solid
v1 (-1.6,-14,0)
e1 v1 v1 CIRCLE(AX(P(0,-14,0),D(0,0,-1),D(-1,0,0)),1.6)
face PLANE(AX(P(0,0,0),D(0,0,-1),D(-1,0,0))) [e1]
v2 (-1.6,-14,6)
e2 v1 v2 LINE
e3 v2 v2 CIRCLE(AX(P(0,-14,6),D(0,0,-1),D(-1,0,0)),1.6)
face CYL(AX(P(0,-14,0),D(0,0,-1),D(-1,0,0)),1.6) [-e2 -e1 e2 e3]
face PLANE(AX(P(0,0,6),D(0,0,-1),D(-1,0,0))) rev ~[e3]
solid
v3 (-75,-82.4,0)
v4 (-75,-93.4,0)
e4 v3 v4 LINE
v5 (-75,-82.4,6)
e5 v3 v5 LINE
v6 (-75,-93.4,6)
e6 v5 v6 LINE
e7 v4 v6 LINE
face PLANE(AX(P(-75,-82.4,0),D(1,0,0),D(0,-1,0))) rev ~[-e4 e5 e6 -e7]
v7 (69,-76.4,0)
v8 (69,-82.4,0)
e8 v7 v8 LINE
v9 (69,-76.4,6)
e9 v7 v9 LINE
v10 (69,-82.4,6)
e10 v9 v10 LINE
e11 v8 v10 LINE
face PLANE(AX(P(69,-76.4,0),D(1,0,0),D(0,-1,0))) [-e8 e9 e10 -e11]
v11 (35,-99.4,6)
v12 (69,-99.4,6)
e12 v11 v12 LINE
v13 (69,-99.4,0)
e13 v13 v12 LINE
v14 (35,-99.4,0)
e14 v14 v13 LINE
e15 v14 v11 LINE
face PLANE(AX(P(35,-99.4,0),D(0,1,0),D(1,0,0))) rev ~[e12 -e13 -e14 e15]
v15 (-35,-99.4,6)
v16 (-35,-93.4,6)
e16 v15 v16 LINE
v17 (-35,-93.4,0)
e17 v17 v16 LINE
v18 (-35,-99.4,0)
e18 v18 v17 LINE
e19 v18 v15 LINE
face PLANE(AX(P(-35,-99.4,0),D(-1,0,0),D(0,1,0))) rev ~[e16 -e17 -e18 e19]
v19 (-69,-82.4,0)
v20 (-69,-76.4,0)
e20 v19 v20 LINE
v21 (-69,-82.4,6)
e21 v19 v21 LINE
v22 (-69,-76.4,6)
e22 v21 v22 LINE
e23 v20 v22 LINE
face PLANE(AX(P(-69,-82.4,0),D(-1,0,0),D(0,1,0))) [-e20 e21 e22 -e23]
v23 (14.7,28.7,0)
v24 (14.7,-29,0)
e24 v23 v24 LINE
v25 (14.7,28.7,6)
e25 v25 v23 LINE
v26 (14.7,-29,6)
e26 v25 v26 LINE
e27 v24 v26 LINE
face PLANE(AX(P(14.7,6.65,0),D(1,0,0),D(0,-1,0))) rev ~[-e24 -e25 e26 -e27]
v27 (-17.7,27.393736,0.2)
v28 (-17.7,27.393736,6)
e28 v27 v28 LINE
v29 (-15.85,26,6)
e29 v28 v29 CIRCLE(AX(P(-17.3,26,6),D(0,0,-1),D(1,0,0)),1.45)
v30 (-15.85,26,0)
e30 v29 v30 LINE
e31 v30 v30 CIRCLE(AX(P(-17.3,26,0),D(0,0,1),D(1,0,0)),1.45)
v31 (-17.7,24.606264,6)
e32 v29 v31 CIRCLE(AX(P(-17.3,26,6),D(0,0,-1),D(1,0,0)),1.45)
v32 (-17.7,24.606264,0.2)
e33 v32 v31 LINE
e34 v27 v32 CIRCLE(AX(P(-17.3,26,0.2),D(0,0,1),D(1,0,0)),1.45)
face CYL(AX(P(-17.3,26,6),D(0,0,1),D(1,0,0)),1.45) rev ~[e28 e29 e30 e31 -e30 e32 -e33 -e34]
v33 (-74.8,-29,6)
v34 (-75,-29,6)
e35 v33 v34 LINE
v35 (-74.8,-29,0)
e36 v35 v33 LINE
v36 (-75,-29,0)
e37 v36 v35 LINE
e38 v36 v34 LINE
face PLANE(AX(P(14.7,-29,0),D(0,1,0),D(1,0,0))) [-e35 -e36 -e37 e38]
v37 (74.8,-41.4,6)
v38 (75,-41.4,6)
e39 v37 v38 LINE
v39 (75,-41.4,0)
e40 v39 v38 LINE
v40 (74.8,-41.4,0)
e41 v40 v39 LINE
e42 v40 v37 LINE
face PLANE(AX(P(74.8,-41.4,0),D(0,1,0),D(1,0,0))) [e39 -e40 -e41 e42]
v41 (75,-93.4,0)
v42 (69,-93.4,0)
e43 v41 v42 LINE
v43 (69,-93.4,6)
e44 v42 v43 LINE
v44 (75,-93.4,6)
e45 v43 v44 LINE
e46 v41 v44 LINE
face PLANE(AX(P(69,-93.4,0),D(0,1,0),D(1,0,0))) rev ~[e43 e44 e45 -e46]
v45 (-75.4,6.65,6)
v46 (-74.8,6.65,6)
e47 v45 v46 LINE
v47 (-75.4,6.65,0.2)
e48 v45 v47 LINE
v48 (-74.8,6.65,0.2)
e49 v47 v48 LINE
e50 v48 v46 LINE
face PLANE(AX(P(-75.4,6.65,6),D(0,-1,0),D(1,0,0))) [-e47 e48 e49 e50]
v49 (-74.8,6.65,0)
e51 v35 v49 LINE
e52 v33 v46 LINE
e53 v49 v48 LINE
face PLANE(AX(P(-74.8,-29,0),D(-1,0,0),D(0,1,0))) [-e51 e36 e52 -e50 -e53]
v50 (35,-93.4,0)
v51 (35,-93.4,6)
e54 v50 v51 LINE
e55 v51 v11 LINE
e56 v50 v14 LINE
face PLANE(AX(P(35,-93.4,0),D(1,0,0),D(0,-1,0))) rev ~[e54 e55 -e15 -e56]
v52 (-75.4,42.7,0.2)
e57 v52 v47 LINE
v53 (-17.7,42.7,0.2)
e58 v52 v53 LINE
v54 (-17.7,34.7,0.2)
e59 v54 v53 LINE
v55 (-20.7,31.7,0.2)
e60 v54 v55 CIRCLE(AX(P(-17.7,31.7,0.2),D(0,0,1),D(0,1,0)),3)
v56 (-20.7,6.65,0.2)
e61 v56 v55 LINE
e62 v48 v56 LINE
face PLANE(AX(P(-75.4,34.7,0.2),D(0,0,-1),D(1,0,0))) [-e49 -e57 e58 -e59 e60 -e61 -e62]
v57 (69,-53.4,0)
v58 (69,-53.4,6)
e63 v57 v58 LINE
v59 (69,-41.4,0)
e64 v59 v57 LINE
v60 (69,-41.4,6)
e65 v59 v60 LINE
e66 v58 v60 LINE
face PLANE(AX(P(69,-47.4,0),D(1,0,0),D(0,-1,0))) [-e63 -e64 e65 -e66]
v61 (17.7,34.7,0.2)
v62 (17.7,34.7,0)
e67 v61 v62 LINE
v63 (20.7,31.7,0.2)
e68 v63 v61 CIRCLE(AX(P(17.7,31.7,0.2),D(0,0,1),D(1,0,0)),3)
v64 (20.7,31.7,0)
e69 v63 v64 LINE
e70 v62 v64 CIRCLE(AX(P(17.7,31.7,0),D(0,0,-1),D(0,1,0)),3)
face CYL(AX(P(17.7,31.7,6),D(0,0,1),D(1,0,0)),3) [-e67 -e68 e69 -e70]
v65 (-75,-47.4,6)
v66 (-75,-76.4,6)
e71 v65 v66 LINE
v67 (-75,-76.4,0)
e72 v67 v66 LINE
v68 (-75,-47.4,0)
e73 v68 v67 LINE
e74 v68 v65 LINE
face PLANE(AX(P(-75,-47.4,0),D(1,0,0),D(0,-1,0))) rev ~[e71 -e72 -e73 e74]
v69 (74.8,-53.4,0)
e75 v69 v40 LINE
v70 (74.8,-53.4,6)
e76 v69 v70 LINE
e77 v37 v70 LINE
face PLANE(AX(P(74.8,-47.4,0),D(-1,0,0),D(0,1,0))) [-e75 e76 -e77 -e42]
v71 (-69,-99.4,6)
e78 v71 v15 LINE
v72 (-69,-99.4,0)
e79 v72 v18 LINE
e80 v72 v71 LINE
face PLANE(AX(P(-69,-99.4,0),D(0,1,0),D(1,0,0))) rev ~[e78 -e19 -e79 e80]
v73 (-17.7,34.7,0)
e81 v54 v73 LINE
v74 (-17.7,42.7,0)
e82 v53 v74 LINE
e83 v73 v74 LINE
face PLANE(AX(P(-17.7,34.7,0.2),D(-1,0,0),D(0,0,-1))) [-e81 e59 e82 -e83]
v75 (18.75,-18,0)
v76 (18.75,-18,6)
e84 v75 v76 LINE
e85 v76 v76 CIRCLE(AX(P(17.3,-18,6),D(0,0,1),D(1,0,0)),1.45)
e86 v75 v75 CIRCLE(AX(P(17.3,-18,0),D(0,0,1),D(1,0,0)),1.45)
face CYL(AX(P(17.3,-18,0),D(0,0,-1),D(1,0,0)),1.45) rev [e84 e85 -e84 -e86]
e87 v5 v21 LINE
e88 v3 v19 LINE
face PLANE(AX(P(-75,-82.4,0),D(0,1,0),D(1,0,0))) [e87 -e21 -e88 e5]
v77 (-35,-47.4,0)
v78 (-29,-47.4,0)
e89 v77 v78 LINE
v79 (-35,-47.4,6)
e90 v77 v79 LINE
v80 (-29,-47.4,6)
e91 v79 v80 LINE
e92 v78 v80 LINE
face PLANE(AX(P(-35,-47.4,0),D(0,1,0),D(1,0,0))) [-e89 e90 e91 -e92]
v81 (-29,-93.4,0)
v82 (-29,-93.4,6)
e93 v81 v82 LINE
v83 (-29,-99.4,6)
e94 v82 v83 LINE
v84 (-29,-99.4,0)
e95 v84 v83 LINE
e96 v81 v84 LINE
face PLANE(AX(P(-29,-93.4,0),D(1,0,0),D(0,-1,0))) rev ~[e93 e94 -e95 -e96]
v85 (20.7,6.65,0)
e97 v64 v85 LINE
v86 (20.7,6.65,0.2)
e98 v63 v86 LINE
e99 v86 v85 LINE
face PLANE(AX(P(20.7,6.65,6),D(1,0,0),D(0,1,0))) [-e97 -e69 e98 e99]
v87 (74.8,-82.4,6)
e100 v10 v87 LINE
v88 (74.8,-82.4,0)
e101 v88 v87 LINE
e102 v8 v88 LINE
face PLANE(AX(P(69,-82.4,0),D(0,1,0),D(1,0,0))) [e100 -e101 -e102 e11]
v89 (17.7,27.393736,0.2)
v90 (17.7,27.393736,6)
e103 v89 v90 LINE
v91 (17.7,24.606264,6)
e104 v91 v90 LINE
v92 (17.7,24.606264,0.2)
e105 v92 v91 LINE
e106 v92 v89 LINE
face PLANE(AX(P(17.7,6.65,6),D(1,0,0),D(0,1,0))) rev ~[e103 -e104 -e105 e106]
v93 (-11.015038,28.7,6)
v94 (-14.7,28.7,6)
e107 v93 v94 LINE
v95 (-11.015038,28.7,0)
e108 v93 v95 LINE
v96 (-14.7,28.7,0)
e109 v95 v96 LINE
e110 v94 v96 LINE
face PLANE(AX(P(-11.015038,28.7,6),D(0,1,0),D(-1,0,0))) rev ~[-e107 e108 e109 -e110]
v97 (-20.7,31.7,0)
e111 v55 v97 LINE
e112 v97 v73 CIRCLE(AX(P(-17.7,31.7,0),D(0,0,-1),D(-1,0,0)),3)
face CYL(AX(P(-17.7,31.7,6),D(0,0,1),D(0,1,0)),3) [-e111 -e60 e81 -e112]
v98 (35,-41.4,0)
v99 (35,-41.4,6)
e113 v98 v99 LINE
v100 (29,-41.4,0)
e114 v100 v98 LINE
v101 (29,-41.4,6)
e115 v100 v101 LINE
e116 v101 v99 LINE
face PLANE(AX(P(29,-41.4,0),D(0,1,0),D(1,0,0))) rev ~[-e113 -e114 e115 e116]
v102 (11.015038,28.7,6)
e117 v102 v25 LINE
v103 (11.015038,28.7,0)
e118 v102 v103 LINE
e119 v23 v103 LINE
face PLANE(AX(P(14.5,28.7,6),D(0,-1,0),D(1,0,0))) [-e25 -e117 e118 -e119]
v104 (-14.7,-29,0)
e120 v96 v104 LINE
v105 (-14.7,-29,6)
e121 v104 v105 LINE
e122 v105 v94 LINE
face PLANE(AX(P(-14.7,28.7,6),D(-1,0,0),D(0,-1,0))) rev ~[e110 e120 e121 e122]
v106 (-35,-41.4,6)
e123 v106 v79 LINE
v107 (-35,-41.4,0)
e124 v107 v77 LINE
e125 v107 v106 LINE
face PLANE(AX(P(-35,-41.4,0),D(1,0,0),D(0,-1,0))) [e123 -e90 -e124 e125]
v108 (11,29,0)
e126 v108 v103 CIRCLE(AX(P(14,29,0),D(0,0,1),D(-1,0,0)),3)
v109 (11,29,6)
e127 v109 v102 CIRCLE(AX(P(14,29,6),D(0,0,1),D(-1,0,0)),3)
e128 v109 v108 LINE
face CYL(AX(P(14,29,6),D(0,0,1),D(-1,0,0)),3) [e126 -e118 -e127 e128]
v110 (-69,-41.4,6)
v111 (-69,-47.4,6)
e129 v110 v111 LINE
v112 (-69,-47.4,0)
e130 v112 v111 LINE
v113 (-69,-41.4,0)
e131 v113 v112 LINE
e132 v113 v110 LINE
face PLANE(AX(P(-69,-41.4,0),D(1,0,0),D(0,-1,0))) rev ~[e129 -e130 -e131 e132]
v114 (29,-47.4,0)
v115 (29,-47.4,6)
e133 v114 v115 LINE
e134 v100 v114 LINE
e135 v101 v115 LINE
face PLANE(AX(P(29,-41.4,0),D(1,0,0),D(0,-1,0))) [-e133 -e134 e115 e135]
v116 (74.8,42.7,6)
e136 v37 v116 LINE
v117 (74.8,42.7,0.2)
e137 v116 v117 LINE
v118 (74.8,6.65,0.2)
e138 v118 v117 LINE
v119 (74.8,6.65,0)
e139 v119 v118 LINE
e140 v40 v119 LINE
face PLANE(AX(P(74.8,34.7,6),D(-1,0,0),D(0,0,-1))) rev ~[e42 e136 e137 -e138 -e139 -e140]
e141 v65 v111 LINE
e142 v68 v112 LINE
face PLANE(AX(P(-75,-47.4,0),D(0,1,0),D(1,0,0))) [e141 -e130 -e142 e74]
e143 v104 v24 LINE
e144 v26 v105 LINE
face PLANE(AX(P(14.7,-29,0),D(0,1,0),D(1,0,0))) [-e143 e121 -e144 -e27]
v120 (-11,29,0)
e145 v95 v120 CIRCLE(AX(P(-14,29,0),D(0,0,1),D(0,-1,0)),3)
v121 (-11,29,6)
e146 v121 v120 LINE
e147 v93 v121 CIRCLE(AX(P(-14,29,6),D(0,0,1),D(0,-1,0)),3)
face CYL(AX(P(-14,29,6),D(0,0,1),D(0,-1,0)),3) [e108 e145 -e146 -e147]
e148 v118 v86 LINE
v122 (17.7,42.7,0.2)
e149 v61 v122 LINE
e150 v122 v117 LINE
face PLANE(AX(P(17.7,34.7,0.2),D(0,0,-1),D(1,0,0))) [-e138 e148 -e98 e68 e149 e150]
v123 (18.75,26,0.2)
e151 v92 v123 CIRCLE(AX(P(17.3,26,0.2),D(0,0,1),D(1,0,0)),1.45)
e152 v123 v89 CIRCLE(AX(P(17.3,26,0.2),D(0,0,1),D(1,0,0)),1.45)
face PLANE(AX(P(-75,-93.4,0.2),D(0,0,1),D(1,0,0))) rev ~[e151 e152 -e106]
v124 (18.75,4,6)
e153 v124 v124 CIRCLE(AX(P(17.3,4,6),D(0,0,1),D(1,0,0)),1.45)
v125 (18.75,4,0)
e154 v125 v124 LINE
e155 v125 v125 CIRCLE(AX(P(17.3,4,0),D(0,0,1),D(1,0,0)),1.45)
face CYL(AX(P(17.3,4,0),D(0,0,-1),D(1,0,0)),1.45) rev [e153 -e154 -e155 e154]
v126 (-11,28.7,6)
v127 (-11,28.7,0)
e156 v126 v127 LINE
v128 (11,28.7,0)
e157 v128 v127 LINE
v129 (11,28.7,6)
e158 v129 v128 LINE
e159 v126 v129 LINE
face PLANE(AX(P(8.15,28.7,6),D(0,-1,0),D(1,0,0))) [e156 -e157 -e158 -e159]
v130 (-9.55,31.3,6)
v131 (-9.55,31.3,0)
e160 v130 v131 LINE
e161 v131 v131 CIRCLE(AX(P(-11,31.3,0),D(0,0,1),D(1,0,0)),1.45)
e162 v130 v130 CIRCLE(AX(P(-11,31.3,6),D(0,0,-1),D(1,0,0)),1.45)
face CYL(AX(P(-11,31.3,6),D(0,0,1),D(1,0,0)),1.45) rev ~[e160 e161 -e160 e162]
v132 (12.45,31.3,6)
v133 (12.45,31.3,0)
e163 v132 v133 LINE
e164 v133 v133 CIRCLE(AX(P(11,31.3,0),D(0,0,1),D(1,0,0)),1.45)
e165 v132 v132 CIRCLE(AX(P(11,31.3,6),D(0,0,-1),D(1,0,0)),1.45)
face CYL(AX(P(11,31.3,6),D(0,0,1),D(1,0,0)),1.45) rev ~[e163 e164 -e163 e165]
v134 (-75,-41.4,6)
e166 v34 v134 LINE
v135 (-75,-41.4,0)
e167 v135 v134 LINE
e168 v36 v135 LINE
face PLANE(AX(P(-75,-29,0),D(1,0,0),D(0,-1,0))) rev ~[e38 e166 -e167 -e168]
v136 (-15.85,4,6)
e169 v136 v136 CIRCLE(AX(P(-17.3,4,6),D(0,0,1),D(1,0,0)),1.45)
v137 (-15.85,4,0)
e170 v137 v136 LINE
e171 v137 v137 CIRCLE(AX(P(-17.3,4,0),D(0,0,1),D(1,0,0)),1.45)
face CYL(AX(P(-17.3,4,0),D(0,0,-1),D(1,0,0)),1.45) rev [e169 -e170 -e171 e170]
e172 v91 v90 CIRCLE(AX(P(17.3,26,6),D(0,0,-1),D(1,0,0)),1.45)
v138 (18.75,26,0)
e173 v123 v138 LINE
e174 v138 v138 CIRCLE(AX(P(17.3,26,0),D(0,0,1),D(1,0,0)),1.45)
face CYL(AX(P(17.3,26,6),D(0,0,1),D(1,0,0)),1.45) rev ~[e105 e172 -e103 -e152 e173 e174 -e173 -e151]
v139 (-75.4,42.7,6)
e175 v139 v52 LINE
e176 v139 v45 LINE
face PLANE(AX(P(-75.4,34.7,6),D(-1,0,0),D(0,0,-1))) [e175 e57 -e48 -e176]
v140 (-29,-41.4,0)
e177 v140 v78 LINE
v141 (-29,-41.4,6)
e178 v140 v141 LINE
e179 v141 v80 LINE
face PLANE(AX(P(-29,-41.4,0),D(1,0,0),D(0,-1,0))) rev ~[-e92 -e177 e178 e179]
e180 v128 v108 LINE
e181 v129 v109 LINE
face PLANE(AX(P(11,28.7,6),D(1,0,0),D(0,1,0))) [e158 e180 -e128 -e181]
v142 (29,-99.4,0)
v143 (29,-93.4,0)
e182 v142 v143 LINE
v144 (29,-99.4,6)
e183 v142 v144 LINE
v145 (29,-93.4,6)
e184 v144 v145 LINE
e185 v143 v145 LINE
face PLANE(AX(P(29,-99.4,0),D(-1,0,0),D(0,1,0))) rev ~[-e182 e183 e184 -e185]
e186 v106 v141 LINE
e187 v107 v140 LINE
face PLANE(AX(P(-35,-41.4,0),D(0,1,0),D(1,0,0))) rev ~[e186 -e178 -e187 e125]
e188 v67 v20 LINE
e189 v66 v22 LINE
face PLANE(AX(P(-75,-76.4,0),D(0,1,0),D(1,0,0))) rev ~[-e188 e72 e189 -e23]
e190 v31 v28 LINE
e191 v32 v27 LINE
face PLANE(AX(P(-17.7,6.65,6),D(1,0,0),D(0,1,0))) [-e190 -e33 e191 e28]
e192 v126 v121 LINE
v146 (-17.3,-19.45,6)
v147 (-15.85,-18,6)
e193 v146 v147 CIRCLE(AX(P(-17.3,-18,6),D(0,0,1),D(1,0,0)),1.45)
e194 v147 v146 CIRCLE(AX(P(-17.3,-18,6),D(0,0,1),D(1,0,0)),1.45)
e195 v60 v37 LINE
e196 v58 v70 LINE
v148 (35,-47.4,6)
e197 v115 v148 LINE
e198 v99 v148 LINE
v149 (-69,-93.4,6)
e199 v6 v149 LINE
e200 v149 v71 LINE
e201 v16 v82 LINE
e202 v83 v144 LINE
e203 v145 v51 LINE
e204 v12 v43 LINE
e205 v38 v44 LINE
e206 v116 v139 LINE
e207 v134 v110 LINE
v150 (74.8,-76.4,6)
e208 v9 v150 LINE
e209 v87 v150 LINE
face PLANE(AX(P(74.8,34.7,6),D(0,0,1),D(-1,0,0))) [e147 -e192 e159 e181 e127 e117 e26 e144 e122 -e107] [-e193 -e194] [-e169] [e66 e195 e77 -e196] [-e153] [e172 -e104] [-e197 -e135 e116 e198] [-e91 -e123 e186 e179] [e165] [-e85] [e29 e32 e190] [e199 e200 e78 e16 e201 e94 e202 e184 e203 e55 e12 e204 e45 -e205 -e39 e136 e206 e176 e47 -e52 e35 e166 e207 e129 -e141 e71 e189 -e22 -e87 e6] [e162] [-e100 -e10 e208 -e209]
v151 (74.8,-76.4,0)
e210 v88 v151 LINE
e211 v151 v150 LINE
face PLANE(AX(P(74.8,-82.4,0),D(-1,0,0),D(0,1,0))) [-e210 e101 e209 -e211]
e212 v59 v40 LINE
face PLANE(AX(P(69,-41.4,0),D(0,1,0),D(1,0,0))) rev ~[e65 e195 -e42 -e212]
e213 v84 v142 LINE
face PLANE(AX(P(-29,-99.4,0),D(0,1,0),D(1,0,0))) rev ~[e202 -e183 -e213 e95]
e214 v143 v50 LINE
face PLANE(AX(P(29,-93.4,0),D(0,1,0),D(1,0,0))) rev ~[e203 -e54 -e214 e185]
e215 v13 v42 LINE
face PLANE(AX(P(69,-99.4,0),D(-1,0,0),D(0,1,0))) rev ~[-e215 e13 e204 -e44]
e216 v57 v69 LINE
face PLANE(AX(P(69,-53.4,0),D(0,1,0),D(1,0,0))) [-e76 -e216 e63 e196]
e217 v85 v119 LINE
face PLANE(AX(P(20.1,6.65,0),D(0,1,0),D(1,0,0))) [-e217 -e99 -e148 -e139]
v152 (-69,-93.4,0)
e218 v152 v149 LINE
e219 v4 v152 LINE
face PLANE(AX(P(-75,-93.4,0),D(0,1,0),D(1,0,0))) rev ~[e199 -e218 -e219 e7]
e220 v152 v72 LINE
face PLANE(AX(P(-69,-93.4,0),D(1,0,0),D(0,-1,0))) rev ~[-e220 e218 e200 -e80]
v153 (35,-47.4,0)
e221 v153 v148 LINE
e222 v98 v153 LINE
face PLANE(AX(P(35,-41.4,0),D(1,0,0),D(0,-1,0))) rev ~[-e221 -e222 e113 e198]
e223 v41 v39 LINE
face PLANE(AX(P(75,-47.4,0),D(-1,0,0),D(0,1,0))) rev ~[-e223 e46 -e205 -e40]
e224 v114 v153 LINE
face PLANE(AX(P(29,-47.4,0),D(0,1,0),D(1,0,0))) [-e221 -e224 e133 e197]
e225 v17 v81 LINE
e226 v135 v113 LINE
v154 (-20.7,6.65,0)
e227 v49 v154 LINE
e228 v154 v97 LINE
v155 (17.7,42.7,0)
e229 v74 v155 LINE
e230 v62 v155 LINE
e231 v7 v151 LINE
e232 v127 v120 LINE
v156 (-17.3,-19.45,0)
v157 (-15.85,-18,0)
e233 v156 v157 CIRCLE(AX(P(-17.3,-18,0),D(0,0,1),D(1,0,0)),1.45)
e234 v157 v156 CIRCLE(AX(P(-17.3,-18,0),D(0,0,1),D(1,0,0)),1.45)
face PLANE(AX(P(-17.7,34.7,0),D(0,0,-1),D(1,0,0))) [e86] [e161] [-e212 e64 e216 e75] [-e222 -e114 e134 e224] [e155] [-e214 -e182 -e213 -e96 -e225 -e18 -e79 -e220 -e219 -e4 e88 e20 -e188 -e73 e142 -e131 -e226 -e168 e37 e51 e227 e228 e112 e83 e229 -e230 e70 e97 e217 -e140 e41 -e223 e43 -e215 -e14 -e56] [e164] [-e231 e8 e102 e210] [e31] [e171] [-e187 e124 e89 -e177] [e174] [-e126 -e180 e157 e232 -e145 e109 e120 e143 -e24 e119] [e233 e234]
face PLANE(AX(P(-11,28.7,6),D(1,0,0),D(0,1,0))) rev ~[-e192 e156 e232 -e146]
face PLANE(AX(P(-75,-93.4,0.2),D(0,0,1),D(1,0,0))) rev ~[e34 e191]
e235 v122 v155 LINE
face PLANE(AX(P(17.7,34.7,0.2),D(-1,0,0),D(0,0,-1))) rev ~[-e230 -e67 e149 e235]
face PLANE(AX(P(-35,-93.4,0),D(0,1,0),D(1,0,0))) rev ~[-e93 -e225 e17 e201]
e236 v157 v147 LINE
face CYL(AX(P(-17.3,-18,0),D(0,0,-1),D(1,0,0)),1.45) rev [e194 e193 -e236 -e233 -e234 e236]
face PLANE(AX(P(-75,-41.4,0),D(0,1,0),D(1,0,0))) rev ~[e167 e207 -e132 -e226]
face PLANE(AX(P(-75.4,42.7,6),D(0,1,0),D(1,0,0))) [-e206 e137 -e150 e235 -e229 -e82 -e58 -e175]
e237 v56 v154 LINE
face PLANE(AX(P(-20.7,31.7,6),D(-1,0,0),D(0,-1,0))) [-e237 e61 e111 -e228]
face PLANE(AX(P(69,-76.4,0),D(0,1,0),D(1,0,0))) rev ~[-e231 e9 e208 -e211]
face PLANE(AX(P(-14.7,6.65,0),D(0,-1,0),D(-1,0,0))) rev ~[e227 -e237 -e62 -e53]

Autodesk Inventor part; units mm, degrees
ref_plane "YZ Plane" through (0, 0, 0) normal (1, 0, 0) x (0, 1, 0)
ref_plane "XZ Plane" through (0, 0, 0) normal (0, 1, 0) x (-1, 0, 0)
ref_plane "XY Plane" through (0, 0, 0) normal (0, 0, 1) x (1, 0, 0)
sketch "스케치1" plane through (0, 0, 0) normal (0, 0, 1) x (1, 0, 0)
  arc A0 (-19.5808, 6.2636) -> (-20.1, 4.5766) centre (-17.1, 4.5766) ccw projected
  line L0 (-20.1, -39.6766) -> (-20.1, 4.5766) projected
  arc A1 (-20.1, -39.6766) -> (-19.5808, -41.3636) centre (-17.1, -39.6766) ccw projected
  line L1 (-15.8929, -46.7869) -> (-19.5808, -41.3636) projected
  arc A2 (-15.8929, -46.7869) -> (-13.4121, -48.1) centre (-13.4121, -45.1) ccw projected
  line L2 (13.4121, -48.1) -> (-13.4121, -48.1) projected
  arc A3 (13.4121, -48.1) -> (15.8929, -46.7869) centre (13.4121, -45.1) ccw projected
  line L3 (19.5808, -41.3636) -> (15.8929, -46.7869) projected
  arc A4 (19.5808, -41.3636) -> (20.1, -39.6766) centre (17.1, -39.6766) ccw projected
  line L4 (20.1, 4.5766) -> (20.1, -39.6766) projected
  arc A5 (20.1, 4.5766) -> (19.5808, 6.2636) centre (17.1, 4.5766) ccw projected
  line L5 (15.5953, 12.1246) -> (19.5808, 6.2636) projected
  arc A6 (15.5953, 12.1246) -> (13.9414, 13) centre (13.9414, 11) ccw projected
  line L6 (7.65, 13) -> (13.9414, 13) projected
  arc A7 (9.15, 11.5) -> (7.65, 13) centre (7.65, 11.5) ccw projected
  line L7 (9.15, 11.5) -> (9.15, 10) projected
  arc A8 (9.15, 10) -> (11.5, 7.65) centre (11.5, 10) ccw projected
  line L8 (11.5, 7.65) -> (13.5, 7.65) projected
  arc A9 (14.5, 6.65) -> (13.5, 7.65) centre (13.5, 6.65) ccw projected
  line L9 (14.5, 6.65) -> (14.5, -36.15) projected
  arc A10 (13.5, -37.15) -> (14.5, -36.15) centre (13.5, -36.15) ccw projected
  line L10 (13.5, -37.15) -> (11.5, -37.15) projected
  arc A11 (11.5, -37.15) -> (9.15, -39.5) centre (11.5, -39.5) ccw projected
  line L11 (9.15, -39.5) -> (9.15, -41.5) projected
  arc A12 (8.15, -42.5) -> (9.15, -41.5) centre (8.15, -41.5) ccw projected
  line L12 (8.15, -42.5) -> (-8.15, -42.5) projected
  arc A13 (-9.15, -41.5) -> (-8.15, -42.5) centre (-8.15, -41.5) ccw projected
  line L13 (-9.15, -41.5) -> (-9.15, -39.5) projected
  arc A14 (-9.15, -39.5) -> (-11.5, -37.15) centre (-11.5, -39.5) ccw projected
  line L14 (-11.5, -37.15) -> (-13.5, -37.15) projected
  arc A15 (-14.5, -36.15) -> (-13.5, -37.15) centre (-13.5, -36.15) ccw projected
  line L15 (-14.5, -36.15) -> (-14.5, 6.65) projected
  arc A16 (-13.5, 7.65) -> (-14.5, 6.65) centre (-13.5, 6.65) ccw projected
  line L16 (-13.5, 7.65) -> (-11.5, 7.65) projected
  arc A17 (-11.5, 7.65) -> (-9.15, 10) centre (-11.5, 10) ccw projected
  line L17 (-9.15, 10) -> (-9.15, 11.5) projected
  arc A18 (-7.65, 13) -> (-9.15, 11.5) centre (-7.65, 11.5) ccw projected
  line L18 (-13.9414, 13) -> (-7.65, 13) projected
  arc A19 (-13.9414, 13) -> (-15.5953, 12.1246) centre (-13.9414, 11) ccw projected
  line L19 (-19.5808, 6.2636) -> (-15.5953, 12.1246) projected
  circle A20 centre (11, -45.3) radius 1.35 projected
  circle A21 centre (-11, -45.3) radius 1.35 projected
  circle A22 centre (17.3, -40) radius 1.35 projected
  circle A23 centre (-17.3, -40) radius 1.35 projected
  line L20 (-17.3, -18) -> (-17.3, -40)
  line L21 (-17.3, -29) -> (-18.1, -29)
  line L22 (-17.3, -29) -> (-14.5, -29)
  line L23 (-14.5, 6.65) -> (-14.5, -36.15)
  line L24 (-20.1, -27) -> (-20.1, 4.5766)
  line L25 (0, 0) -> (0, -14)
  line L26 (-14.5, 6.65) -> (-14.7, 6.65)
  line L27 (-14.7, 6.65) -> (-14.7, -36.15)
  line L28 (-14.7, -36.15) -> (-14.5, -36.15)
  line L29 (-14.5, 6.65) -> (-18.1, 6.65)
  line L30 (-20.1, 4.65) -> (-20.1, 4.5766)
  arc A24 (-18.1, 6.65) -> (-20.1, 4.65) centre (-18.1, 4.65) ccw
  arc A25 (-20.1, -27) -> (-18.1, -29) centre (-18.1, -27) ccw
  line L31 (20.1, -39.6766) -> (20.1, 4.5766)
  line L32 (17.3, -29) -> (14.5, -29)
  line L33 (14.7, 6.65) -> (14.7, -36.15)
  arc A26 (20.1, 4.65) -> (18.1, 6.65) centre (18.1, 4.65) ccw
  arc A27 (18.1, -29) -> (20.1, -27) centre (18.1, -27) ccw
  line L34 (17.3, -29) -> (18.1, -29)
  line L35 (14.7, 6.65) -> (18.1, 6.65)
  line L36 (-20.1, 6.65) -> (-38.1, 6.65)
  line L37 (-38.1, 6.65) -> (-38.1, -29)
  line L38 (-38.1, -29) -> (-20.1, -29)
  line L39 (-20.1, -29) -> (-20.1, 6.65)
  line L40 (20.1, 6.65) -> (38.1, 6.65)
  line L41 (38.1, 6.65) -> (38.1, -29)
  line L42 (38.1, -29) -> (20.1, -29)
  line L43 (20.1, -29) -> (20.1, 6.65)
  line L44 (-18.1, 6.65) -> (-20.1, 6.65)
  line L45 (-17.3, -29) -> (-20.1, -29)
  line L46 (20.1, -29) -> (18.1, -29)
  line L47 (20.1, 6.65) -> (14.5, 6.65)
  line L48 (-32.5405, -23.1017) -> (-32.4592, -49.1016) projected
  line L49 (-32.5221, -29) -> (-38.1, -29)
  line L50 (-38.1, -29) -> (-38.1, 6.65)
  line L51 (-38.1, 6.65) -> (-32.5221, 6.65)
  line L52 (-32.5221, 6.65) -> (-32.5221, -29)
  line L53 (-32.5221, -29) -> (-32.3221, -29)
  line L54 (-32.3221, -29) -> (-32.3221, 6.65)
  line L55 (32.3221, -29) -> (32.3221, 6.65)
  line L56 (31.5, -1) -> (31.5, -27) projected
  line L57 (-31.5, -1) -> (-31.5, -27) projected
  line L58 (31.5, -29) -> (20.1, -29)
  line L59 (20.1, -29) -> (20.1, 6.65)
  line L60 (20.1, 6.65) -> (31.5, 6.65)
  line L61 (-31.5, -29) -> (-20.1, -29)
  line L62 (-20.1, -29) -> (-20.1, 6.65)
  line L63 (-20.1, 6.65) -> (-31.5, 6.65)
  line L64 (31.5, -29) -> (31.4, -29)
  line L65 (31.4, -29) -> (31.4, -28)
  line L66 (31.4, -28) -> (31.5, -28)
  line L67 (31.5, -28) -> (31.5, -29)
  line L68 (31.4, -28) -> (31.4, 6.65)
  line L69 (-31.5, -29) -> (-31.4, -29)
  line L70 (-31.4, -29) -> (-31.4, 6.65)
  line L71 (31.5, -28) -> (31.5, -27)
  line L72 (-75, -22.9383) -> (-75, -5.0617)
  line L73 (-31.4, -29) -> (-74.8, -29)
  line L74 (-74.8, -29) -> (-74.8, 6.65)
  line L75 (-74.8, 6.65) -> (-31.4, 6.65)
  line L76 (-31.4, 6.65) -> (-31.4, -29)
  line L77 (20.1, 6.65) -> (38.1, 6.65)
  line L78 (38.1, 6.65) -> (38.1, -29)
  line L79 (38.1, -29) -> (20.1, -29)
  line L80 (32.5405, -23.1017) -> (32.4592, -49.1016)
  line L81 (32.5221, -29) -> (38.1, -29)
  line L82 (38.1, -29) -> (38.1, 6.65)
  line L83 (38.1, 6.65) -> (32.5221, 6.65)
  line L84 (32.5221, 6.65) -> (32.5221, -29)
  line L85 (32.5221, -29) -> (32.3221, -29)
  line L86 (32.3221, -29) -> (32.3221, 6.65)
  line L87 (31.5, -1) -> (31.5, -27)
  line L88 (31.5, -29) -> (20.1, -29)
  line L89 (20.1, 6.65) -> (31.5, 6.65)
  line L90 (31.5, -29) -> (31.4, -29)
  line L91 (31.4, -29) -> (31.4, 6.65)
  line L92 (75, -22.9383) -> (75, -5.0617)
  line L93 (31.4, -29) -> (74.8, -29)
  line L94 (74.8, -29) -> (74.8, 6.65)
  line L95 (74.8, 6.65) -> (31.4, 6.65)
  line L96 (31.4, 6.65) -> (31.4, -29)
  circle A28 centre (17.3, 4) radius 1.45
  circle A29 centre (17.3, -18) radius 1.45
  circle A30 centre (-17.3, 4) radius 1.45
  circle A31 centre (-17.3, -18) radius 1.45
  point P0 (-20.1, -29)
  point P1 (-14.7, -29)
  point P2 (-20.0735, 4.9745)
  point P3 (20.0735, 4.9745)
  point P4 (14.7, -29)
  point P5 (-75, -5.0617)
  dimension "d0" = 0.2
  dimension "d1" = 2
  dimension "d4" = 18
  dimension "d5" = 18
  dimension "d16" = 0.2
  dimension "d17" = 0.1
  dimension "d18" = 0.1
extrude "돌출1" add sketch "스케치1" along normal blind 6 contours A0 A24 L29 L27 L22 L21 A25 L0 | L39 L44 L19 A0 | A0 L0 L38 L70 L36 L39 | A0 L19 L44 A24 | A25 L45 L0 | L70 L38 L54 L36 | L54 L38 L52 L36 | L52 L38 L37 L36 | L37 L73 L74 L75 | L46 A27 L4 | L4 A5 L43 L40 L68 L65 L42 | A27 L34 L32 L33 L35 A26 A5 L4 | L65 L66 L67 L42 | L67 L66 L68 L40 L55 L42 | A5 L5 L47 L43 | L55 L40 L84 L42 | A26 L47 L5 A5 | L84 L40 L41 L42 | L41 L95 L94 L93
sketch "스케치5" plane through (0, 0, 6) normal (0, 0, 1) x (1, 0, 0)
  arc A0 (19.5808, -20.2636) -> (20.1, -18.5766) centre (17.1, -18.5766) ccw projected
  line L0 (20.1, 25.6766) -> (20.1, -18.5766) projected
  arc A1 (20.1, 25.6766) -> (19.5808, 27.3636) centre (17.1, 25.6766) ccw
  line L1 (15.8929, 32.7869) -> (19.5808, 27.3636) projected
  arc A2 (15.8929, 32.7869) -> (13.4121, 34.1) centre (13.4121, 31.1) ccw projected
  line L2 (-13.4121, 34.1) -> (13.4121, 34.1) projected
  arc A3 (-13.4121, 34.1) -> (-15.8929, 32.7869) centre (-13.4121, 31.1) ccw projected
  line L3 (-19.5808, 27.3636) -> (-15.8929, 32.7869) projected
  arc A4 (-19.5808, 27.3636) -> (-20.1, 25.6766) centre (-17.1, 25.6766) ccw projected
  line L4 (-20.1, -18.5766) -> (-20.1, 25.6766) projected
  arc A5 (-20.1, -18.5766) -> (-19.5808, -20.2636) centre (-17.1, -18.5766) ccw projected
  line L5 (-15.5953, -26.1246) -> (-19.5808, -20.2636) projected
  arc A6 (-15.5953, -26.1246) -> (-13.9414, -27) centre (-13.9414, -25) ccw projected
  line L6 (-7.65, -27) -> (-13.9414, -27) projected
  arc A7 (-9.15, -25.5) -> (-7.65, -27) centre (-7.65, -25.5) ccw projected
  line L7 (-9.15, -25.5) -> (-9.15, -24) projected
  arc A8 (-9.15, -24) -> (-11.5, -21.65) centre (-11.5, -24) ccw projected
  line L8 (-11.5, -21.65) -> (-13.5, -21.65) projected
  arc A9 (-14.5, -20.65) -> (-13.5, -21.65) centre (-13.5, -20.65) ccw projected
  line L9 (-14.5, -20.65) -> (-14.5, 22.15) projected
  arc A10 (-13.5, 23.15) -> (-14.5, 22.15) centre (-13.5, 22.15) ccw projected
  line L10 (-13.5, 23.15) -> (-11.5, 23.15) projected
  arc A11 (-11.5, 23.15) -> (-9.15, 25.5) centre (-11.5, 25.5) ccw projected
  line L11 (-9.15, 25.5) -> (-9.15, 27.5) projected
  arc A12 (-8.15, 28.5) -> (-9.15, 27.5) centre (-8.15, 27.5) ccw projected
  line L12 (-8.15, 28.5) -> (8.15, 28.5) projected
  arc A13 (9.15, 27.5) -> (8.15, 28.5) centre (8.15, 27.5) ccw projected
  line L13 (9.15, 27.5) -> (9.15, 25.5) projected
  arc A14 (9.15, 25.5) -> (11.5, 23.15) centre (11.5, 25.5) ccw projected
  line L14 (11.5, 23.15) -> (13.5, 23.15) projected
  arc A15 (14.5, 22.15) -> (13.5, 23.15) centre (13.5, 22.15) ccw projected
  line L15 (14.5, 22.15) -> (14.5, -20.65) projected
  arc A16 (13.5, -21.65) -> (14.5, -20.65) centre (13.5, -20.65) ccw projected
  line L16 (13.5, -21.65) -> (11.5, -21.65) projected
  arc A17 (11.5, -21.65) -> (9.15, -24) centre (11.5, -24) ccw projected
  line L17 (9.15, -24) -> (9.15, -25.5) projected
  arc A18 (7.65, -27) -> (9.15, -25.5) centre (7.65, -25.5) ccw projected
  line L18 (13.9414, -27) -> (7.65, -27) projected
  arc A19 (13.9414, -27) -> (15.5953, -26.1246) centre (13.9414, -25) ccw projected
  line L19 (19.5808, -20.2636) -> (15.5953, -26.1246) projected
  circle A20 centre (-17.3, -18) radius 1.35 projected
  circle A21 centre (-17.3, 4) radius 1.35 projected
  circle A22 centre (-11, 31.3) radius 1.35 projected
  circle A23 centre (17.3, -18) radius 1.35 projected
  circle A24 centre (17.3, 4) radius 1.35 projected
  line L20 (14.7, 6.65) -> (14.7, -29) projected
  line L21 (14.7, 6.65) -> (20.7, 6.65)
  line L22 (20.7, 6.65) -> (20.7, 26)
  line L23 (20.7, 26) -> (14.7, 26)
  line L24 (14.7, 26) -> (14.7, 6.65)
  line L25 (20.7, 26) -> (14, 26)
  line L26 (11, 28.5) -> (11, 34.5)
  line L27 (11, 34.5) -> (8.15, 34.5)
  line L28 (20.7, 26) -> (11, 26)
  line L29 (11, 29) -> (11, 34.5)
  line L30 (11, 34.5) -> (20.7, 34.5)
  line L31 (20.7, 31.7) -> (20.7, 26)
  line L32 (8.15, 28.5) -> (8.15, 28.7)
  line L33 (8.15, 28.7) -> (11, 28.7)
  line L34 (11, 28.7) -> (11, 34.5)
  line L35 (11, 34.5) -> (8.15, 34.5)
  line L36 (8.15, 34.5) -> (8.15, 28.7)
  line L37 (11, 34.5) -> (8.15, 34.5)
  line L38 (8.15, 34.5) -> (8.15, 34.7)
  line L39 (8.15, 34.7) -> (11, 34.7)
  line L40 (11, 34.7) -> (11, 34.5)
  line L41 (20.7, 34.5) -> (11, 34.5)
  line L42 (11, 34.5) -> (11, 34.7)
  line L43 (11, 34.7) -> (17.7, 34.7)
  line L44 (20.7, 34.7) -> (20.7, 34.5)
  line L45 (8.15, 34.7) -> (3, 34.7)
  line L46 (0, 31.7) -> (0, 28.7)
  line L47 (0, 28.7) -> (8.15, 28.7)
  line L48 (8.15, 28.7) -> (8.15, 34.7)
  arc A25 (20.7, 31.7) -> (17.7, 34.7) centre (17.7, 31.7) ccw
  arc A26 (11, 29) -> (14, 26) centre (14, 29) ccw
  arc A27 (3, 34.7) -> (0, 31.7) centre (3, 31.7) ccw
  line L49 (0, 0) -> (0, -14)
  arc A28 (-19.5808, 27.3636) -> (-20.1, 25.6766) centre (-17.1, 25.6766) ccw
  line L50 (-15.8929, 32.7869) -> (-19.5808, 27.3636)
  arc A29 (-13.4121, 34.1) -> (-15.8929, 32.7869) centre (-13.4121, 31.1) ccw
  arc A30 (-8.15, 28.5) -> (-9.15, 27.5) centre (-8.15, 27.5) ccw
  line L51 (-9.15, 27.5) -> (-9.15, 25.5)
  arc A31 (-11.5, 23.15) -> (-9.15, 25.5) centre (-11.5, 25.5) ccw
  line L52 (-11.5, 23.15) -> (-13.5, 23.15)
  arc A32 (-13.5, 23.15) -> (-14.5, 22.15) centre (-13.5, 22.15) ccw
  line L53 (-14.7, 6.65) -> (-20.7, 6.65)
  line L54 (-20.7, 6.65) -> (-20.7, 26)
  line L55 (-20.7, 26) -> (-14.7, 26)
  line L56 (-14.7, 26) -> (-14.7, 6.65)
  line L57 (-20.7, 26) -> (-14, 26)
  line L58 (-11, 28.5) -> (-11, 34.5)
  line L59 (-11, 34.5) -> (-8.15, 34.5)
  line L60 (-20.7, 26) -> (-11, 26)
  line L61 (-11, 29) -> (-11, 34.5)
  line L62 (-11, 34.5) -> (-20.7, 34.5)
  line L63 (-20.7, 31.7) -> (-20.7, 26)
  line L64 (-8.15, 28.5) -> (-8.15, 28.7)
  line L65 (-8.15, 28.7) -> (-11, 28.7)
  line L66 (-11, 28.7) -> (-11, 34.5)
  line L67 (-11, 34.5) -> (-8.15, 34.5)
  line L68 (-8.15, 34.5) -> (-8.15, 28.7)
  line L69 (-11, 34.5) -> (-8.15, 34.5)
  line L70 (-8.15, 34.5) -> (-8.15, 34.7)
  line L71 (-8.15, 34.7) -> (-11, 34.7)
  line L72 (-11, 34.7) -> (-11, 34.5)
  line L73 (-20.7, 34.5) -> (-11, 34.5)
  line L74 (-11, 34.5) -> (-11, 34.7)
  line L75 (-11, 34.7) -> (-17.7, 34.7)
  line L76 (-20.7, 34.7) -> (-20.7, 34.5)
  line L77 (-8.15, 34.7) -> (-3, 34.7)
  line L78 (0, 28.7) -> (-8.15, 28.7)
  line L79 (-8.15, 28.7) -> (-8.15, 34.7)
  arc A33 (-17.7, 34.7) -> (-20.7, 31.7) centre (-17.7, 31.7) ccw
  arc A34 (-14, 26) -> (-11, 29) centre (-14, 29) ccw
  arc A35 (0, 31.7) -> (-3, 34.7) centre (-3, 31.7) ccw
  line L80 (3, 34.7) -> (-3, 34.7)
  circle A36 centre (17.3, 26) radius 1.45
  circle A37 centre (11, 31.3) radius 1.45
  circle A38 centre (-17.3, 26) radius 1.45
  circle A39 centre (-11, 31.3) radius 1.45
  line L81 (8.15, 28.5) -> (14.5, 28.5)
  line L82 (14.5, 28.5) -> (14.5, 22.15)
  line L83 (14.5, 22.15) -> (8.15, 22.15)
  line L84 (8.15, 22.15) -> (8.15, 28.5)
  line L85 (-14.5, -20.65) -> (-7.65, -20.65)
  line L86 (-7.65, -20.65) -> (-7.65, -27)
  line L87 (-7.65, -27) -> (-14.5, -27)
  line L88 (-14.5, -27) -> (-14.5, -20.65)
  line L89 (8.15, 22.15) -> (-7.65, 22.15)
  line L90 (-7.65, 22.15) -> (-7.65, -20.65)
  line L91 (-7.65, -20.65) -> (8.15, -20.65)
  line L92 (8.15, -20.65) -> (8.15, 22.15)
  line L93 (11, 28.7) -> (14.5, 28.7)
  line L94 (14.5, 28.7) -> (14.5, 22.15)
  line L95 (14.5, 22.15) -> (11, 22.15)
  line L96 (11, 22.15) -> (11, 28.7)
  line L97 (-11, 28.7) -> (-14.7, 28.7)
  line L98 (-14.7, 28.7) -> (-14.7, 26)
  line L99 (-14.7, 26) -> (-11, 26)
  line L100 (-11, 26) -> (-11, 28.7)
  line L101 (7.65, -27) -> (14.5, -27)
  line L102 (14.5, -27) -> (14.5, -20.65)
  line L103 (14.5, -20.65) -> (7.65, -20.65)
  line L104 (7.65, -20.65) -> (7.65, -27)
  line L105 (14.7, 26) -> (14.5, 26)
  line L106 (14.5, 26) -> (14.5, 28.7)
  line L107 (14.5, 28.7) -> (14.7, 28.7)
  line L108 (14.7, 28.7) -> (14.7, 26)
  point P0 (-17.3, 4)
  point P1 (-11, 29.85)
  point P2 (-11, 29.95)
  point P3 (-11, 32.65)
  point P4 (-11, 32.75)
  point P5 (-11.015, 28.7)
  point P6 (11.015, 28.7)
  dimension "d19" = 6
  dimension "d20" = 6
  dimension "d21" = 0.2
  dimension "d22" = 0.2
  dimension "d23" = 3
extrude "돌출5" add sketch "스케치5" against normal blind 6 contours L21 L24 L23 A36 A1 L0 | L0 A1 L23 L22 L21 | L23 A36 L108 L107 L93 A26 L26 A37 L2 A2 L1 A1 | A1 L1 A2 L2 L26 L30 A25 L31 L23 | L30 L40 L43 A25 | L26 L2 L36 L27 | L27 L38 L39 L40 | L26 A37 L33 L36 L2 | L36 L2 A27 L45 L38 | L47 L46 A27 L2 L36 | L65 L58 A39 L2 L68 | L68 L2 A35 L46 L78 | A27 A35 L2 | L2 A35 L80 A27 | L68 L70 L77 A35 L2 | L2 L58 L59 L68 | A34 L97 L98 L55 A38 A4 L3 A3 L2 L58 A39 | L2 A3 L3 A4 L55 L63 A33 L62 L58 | L59 L72 L71 L70 | L62 A33 L75 L72 | L53 L54 L55 A4 L4 | L4 A4 L55 A38 L56 L53
sketch "스케치15" plane through (0, 0, 0) normal (0, 0, -1) x (-1, 0, 0)
  circle A0 centre (0, -14) radius 1.6 projected
  line L0 (-29, 25.8) -> (29, 25.8) projected
  line L1 (-29, 19.8) -> (-29, 25.8) projected
  line L2 (-35, 19.8) -> (-29, 19.8) projected
  line L3 (-35, 25.8) -> (-35, 19.8) projected
  line L4 (-69, 25.8) -> (-35, 25.8) projected
  line L5 (-69, 19.8) -> (-69, 25.8) projected
  line L6 (-75, 19.8) -> (-69, 19.8) projected
  line L7 (-75, -93.4) -> (-75, 19.8) projected
  line L8 (-69, -93.4) -> (-75, -93.4) projected
  line L9 (-69, -99.4) -> (-69, -93.4) projected
  line L10 (-35, -99.4) -> (-69, -99.4) projected
  line L11 (-35, -93.4) -> (-35, -99.4) projected
  line L12 (-29, -93.4) -> (-35, -93.4) projected
  line L13 (-29, -99.4) -> (-29, -93.4) projected
  line L14 (29, -99.4) -> (-29, -99.4) projected
  line L15 (29, -93.4) -> (29, -99.4) projected
  line L16 (35, -93.4) -> (29, -93.4) projected
  line L17 (35, -99.4) -> (35, -93.4) projected
  line L18 (69, -99.4) -> (35, -99.4) projected
  line L19 (69, -93.4) -> (69, -99.4) projected
  line L20 (75, -93.4) -> (69, -93.4) projected
  line L21 (75, 19.8) -> (75, -93.4) projected
  line L22 (69, 19.8) -> (75, 19.8) projected
  line L23 (69, 25.8) -> (69, 19.8) projected
  line L24 (35, 25.8) -> (69, 25.8) projected
  line L25 (35, 19.8) -> (35, 25.8) projected
  line L26 (29, 19.8) -> (35, 19.8) projected
  line L27 (29, 25.8) -> (29, 19.8) projected
  line L28 (-14.7, -29) -> (-74.8, -29) projected
  line L29 (-74.8, -29) -> (75.2, -29)
  line L30 (75.2, -29) -> (75.2, -99.4)
  line L31 (75.2, -99.4) -> (-74.8, -99.4)
  line L32 (-74.8, -99.4) -> (-74.8, -29)
  line L33 (-69, -76.4) -> (-69, -82.4) projected
  line L34 (-69, -76.4) -> (-75, -76.4) projected
  line L35 (-75, -82.4) -> (-75, -76.4) projected
  line L36 (-69, -82.4) -> (-75, -82.4) projected
  line L37 (-69, -41.4) -> (-75, -41.4) projected
  line L38 (-75, -41.4) -> (-75, -47.4) projected
  line L39 (-69, -47.4) -> (-75, -47.4) projected
  line L40 (-69, -41.4) -> (-69, -47.4) projected
  line L41 (-69, -47.4) -> (-69, -53.4) projected
  line L42 (-69, -47.4) -> (-75, -47.4) projected
  line L43 (-75, -53.4) -> (-75, -47.4) projected
  line L44 (-69, -53.4) -> (-75, -53.4) projected
  line L45 (-29, -41.4) -> (-35, -41.4) projected
  line L46 (-35, -41.4) -> (-35, -47.4) projected
  line L47 (-29, -47.4) -> (-35, -47.4) projected
  line L48 (-29, -41.4) -> (-29, -47.4) projected
  line L49 (75, -76.4) -> (75, -82.4) projected
  line L50 (75, -76.4) -> (69, -76.4) projected
  line L51 (69, -82.4) -> (69, -76.4) projected
  line L52 (75, -82.4) -> (69, -82.4) projected
  line L53 (35, -41.4) -> (35, -47.4) projected
  line L54 (69, -47.4) -> (35, -47.4) projected
  line L55 (69, -41.4) -> (69, -47.4) projected
  line L56 (35, -41.4) -> (69, -41.4) projected
  line L57 (75, -41.4) -> (69, -41.4) projected
  line L58 (69, -41.4) -> (69, -47.4) projected
  line L59 (75, -47.4) -> (69, -47.4) projected
  line L60 (75, -41.4) -> (75, -47.4) projected
  line L61 (35, -41.4) -> (29, -41.4) projected
  line L62 (29, -41.4) -> (29, -47.4) projected
  line L63 (35, -47.4) -> (29, -47.4) projected
  line L64 (35, -41.4) -> (35, -47.4) projected
  point P0 (0, 0)
  point P1 (75, -29)
  point P2 (-74.8, -93.4)
  point P3 (-74.8, -41.4)
  point P4 (-74.8, -47.4)
  point P5 (-74.8, -53.4)
  point P6 (-74.8, -76.4)
  point P7 (-74.8, -82.4)
extrude "돌출10" add sketch "스케치15" against normal blind 6 contours A0 | L37 L32 L39 L7 | L21 L57 L56 L61 L62 L63 L54 L59 L50 L51 L52 L20 L19 L18 L17 L16 L15 L14 L13 L12 L11 L10 L9 L8 L32 L36 L33 L34 L44 L41 L40 L37 L28 L29 | L39 L32 L44 L7 | L44 L32 L34 L7 | L55 L54 L53 L56 | L34 L32 L36 L7 | L36 L32 L8 L7
sketch "스케치20" plane through (-75, -93.4, 6) normal (0, 0, 1) x (1, 0, 0)
  line L0 (150, 52) -> (150, 0) projected
  arc A0 (95.7, 125.1) -> (92.7, 128.1) centre (92.7, 125.1) ccw projected
  line L1 (149.8, 100.05) -> (92.7, 100.05)
  line L2 (92.7, 100.05) -> (92.7, 128.1)
  line L3 (92.7, 128.1) -> (149.8, 128.1)
  line L4 (149.8, 128.1) -> (149.8, 100.05)
  arc A1 (57.3, 128.1) -> (54.3, 125.1) centre (57.3, 125.1) ccw projected
  line L5 (57.3, 128.1) -> (-0.4, 128.1)
  line L6 (-0.4, 128.1) -> (-0.4, 100.05)
  line L7 (-0.4, 100.05) -> (57.3, 100.05)
  line L8 (57.3, 100.05) -> (57.3, 128.1)
  point P0 (75, 93.4)
  point P1 (150, 113.2)
  point P2 (150, 0)
extrude "돌출14" add sketch "스케치20" against normal blind 5.8
sketch "스케치24" plane through (-75.4, 34.7, 6) normal (0, 1, 0) x (1, 0, 0)
  line L0 (150.2, 0) -> (0, 0) projected
  line L1 (150.2, 0) -> (150.2, 5.8) projected
  line L2 (0, 0) -> (0, 5.8) projected
  line L3 (0, 5.8) -> (57.7, 5.8) projected
  line L4 (93.1, 5.8) -> (150.2, 5.8) projected
  line L5 (93.1, 5.8) -> (93.1, 6) projected
  line L6 (57.7, 6) -> (93.1, 6) projected
  line L7 (57.7, 5.8) -> (57.7, 6) projected
  point P0 (75.4, 6)
extrude "돌출17" add sketch "스케치24" along normal blind 8
properties part number "real_waist" material "PMMA 플라스틱"
